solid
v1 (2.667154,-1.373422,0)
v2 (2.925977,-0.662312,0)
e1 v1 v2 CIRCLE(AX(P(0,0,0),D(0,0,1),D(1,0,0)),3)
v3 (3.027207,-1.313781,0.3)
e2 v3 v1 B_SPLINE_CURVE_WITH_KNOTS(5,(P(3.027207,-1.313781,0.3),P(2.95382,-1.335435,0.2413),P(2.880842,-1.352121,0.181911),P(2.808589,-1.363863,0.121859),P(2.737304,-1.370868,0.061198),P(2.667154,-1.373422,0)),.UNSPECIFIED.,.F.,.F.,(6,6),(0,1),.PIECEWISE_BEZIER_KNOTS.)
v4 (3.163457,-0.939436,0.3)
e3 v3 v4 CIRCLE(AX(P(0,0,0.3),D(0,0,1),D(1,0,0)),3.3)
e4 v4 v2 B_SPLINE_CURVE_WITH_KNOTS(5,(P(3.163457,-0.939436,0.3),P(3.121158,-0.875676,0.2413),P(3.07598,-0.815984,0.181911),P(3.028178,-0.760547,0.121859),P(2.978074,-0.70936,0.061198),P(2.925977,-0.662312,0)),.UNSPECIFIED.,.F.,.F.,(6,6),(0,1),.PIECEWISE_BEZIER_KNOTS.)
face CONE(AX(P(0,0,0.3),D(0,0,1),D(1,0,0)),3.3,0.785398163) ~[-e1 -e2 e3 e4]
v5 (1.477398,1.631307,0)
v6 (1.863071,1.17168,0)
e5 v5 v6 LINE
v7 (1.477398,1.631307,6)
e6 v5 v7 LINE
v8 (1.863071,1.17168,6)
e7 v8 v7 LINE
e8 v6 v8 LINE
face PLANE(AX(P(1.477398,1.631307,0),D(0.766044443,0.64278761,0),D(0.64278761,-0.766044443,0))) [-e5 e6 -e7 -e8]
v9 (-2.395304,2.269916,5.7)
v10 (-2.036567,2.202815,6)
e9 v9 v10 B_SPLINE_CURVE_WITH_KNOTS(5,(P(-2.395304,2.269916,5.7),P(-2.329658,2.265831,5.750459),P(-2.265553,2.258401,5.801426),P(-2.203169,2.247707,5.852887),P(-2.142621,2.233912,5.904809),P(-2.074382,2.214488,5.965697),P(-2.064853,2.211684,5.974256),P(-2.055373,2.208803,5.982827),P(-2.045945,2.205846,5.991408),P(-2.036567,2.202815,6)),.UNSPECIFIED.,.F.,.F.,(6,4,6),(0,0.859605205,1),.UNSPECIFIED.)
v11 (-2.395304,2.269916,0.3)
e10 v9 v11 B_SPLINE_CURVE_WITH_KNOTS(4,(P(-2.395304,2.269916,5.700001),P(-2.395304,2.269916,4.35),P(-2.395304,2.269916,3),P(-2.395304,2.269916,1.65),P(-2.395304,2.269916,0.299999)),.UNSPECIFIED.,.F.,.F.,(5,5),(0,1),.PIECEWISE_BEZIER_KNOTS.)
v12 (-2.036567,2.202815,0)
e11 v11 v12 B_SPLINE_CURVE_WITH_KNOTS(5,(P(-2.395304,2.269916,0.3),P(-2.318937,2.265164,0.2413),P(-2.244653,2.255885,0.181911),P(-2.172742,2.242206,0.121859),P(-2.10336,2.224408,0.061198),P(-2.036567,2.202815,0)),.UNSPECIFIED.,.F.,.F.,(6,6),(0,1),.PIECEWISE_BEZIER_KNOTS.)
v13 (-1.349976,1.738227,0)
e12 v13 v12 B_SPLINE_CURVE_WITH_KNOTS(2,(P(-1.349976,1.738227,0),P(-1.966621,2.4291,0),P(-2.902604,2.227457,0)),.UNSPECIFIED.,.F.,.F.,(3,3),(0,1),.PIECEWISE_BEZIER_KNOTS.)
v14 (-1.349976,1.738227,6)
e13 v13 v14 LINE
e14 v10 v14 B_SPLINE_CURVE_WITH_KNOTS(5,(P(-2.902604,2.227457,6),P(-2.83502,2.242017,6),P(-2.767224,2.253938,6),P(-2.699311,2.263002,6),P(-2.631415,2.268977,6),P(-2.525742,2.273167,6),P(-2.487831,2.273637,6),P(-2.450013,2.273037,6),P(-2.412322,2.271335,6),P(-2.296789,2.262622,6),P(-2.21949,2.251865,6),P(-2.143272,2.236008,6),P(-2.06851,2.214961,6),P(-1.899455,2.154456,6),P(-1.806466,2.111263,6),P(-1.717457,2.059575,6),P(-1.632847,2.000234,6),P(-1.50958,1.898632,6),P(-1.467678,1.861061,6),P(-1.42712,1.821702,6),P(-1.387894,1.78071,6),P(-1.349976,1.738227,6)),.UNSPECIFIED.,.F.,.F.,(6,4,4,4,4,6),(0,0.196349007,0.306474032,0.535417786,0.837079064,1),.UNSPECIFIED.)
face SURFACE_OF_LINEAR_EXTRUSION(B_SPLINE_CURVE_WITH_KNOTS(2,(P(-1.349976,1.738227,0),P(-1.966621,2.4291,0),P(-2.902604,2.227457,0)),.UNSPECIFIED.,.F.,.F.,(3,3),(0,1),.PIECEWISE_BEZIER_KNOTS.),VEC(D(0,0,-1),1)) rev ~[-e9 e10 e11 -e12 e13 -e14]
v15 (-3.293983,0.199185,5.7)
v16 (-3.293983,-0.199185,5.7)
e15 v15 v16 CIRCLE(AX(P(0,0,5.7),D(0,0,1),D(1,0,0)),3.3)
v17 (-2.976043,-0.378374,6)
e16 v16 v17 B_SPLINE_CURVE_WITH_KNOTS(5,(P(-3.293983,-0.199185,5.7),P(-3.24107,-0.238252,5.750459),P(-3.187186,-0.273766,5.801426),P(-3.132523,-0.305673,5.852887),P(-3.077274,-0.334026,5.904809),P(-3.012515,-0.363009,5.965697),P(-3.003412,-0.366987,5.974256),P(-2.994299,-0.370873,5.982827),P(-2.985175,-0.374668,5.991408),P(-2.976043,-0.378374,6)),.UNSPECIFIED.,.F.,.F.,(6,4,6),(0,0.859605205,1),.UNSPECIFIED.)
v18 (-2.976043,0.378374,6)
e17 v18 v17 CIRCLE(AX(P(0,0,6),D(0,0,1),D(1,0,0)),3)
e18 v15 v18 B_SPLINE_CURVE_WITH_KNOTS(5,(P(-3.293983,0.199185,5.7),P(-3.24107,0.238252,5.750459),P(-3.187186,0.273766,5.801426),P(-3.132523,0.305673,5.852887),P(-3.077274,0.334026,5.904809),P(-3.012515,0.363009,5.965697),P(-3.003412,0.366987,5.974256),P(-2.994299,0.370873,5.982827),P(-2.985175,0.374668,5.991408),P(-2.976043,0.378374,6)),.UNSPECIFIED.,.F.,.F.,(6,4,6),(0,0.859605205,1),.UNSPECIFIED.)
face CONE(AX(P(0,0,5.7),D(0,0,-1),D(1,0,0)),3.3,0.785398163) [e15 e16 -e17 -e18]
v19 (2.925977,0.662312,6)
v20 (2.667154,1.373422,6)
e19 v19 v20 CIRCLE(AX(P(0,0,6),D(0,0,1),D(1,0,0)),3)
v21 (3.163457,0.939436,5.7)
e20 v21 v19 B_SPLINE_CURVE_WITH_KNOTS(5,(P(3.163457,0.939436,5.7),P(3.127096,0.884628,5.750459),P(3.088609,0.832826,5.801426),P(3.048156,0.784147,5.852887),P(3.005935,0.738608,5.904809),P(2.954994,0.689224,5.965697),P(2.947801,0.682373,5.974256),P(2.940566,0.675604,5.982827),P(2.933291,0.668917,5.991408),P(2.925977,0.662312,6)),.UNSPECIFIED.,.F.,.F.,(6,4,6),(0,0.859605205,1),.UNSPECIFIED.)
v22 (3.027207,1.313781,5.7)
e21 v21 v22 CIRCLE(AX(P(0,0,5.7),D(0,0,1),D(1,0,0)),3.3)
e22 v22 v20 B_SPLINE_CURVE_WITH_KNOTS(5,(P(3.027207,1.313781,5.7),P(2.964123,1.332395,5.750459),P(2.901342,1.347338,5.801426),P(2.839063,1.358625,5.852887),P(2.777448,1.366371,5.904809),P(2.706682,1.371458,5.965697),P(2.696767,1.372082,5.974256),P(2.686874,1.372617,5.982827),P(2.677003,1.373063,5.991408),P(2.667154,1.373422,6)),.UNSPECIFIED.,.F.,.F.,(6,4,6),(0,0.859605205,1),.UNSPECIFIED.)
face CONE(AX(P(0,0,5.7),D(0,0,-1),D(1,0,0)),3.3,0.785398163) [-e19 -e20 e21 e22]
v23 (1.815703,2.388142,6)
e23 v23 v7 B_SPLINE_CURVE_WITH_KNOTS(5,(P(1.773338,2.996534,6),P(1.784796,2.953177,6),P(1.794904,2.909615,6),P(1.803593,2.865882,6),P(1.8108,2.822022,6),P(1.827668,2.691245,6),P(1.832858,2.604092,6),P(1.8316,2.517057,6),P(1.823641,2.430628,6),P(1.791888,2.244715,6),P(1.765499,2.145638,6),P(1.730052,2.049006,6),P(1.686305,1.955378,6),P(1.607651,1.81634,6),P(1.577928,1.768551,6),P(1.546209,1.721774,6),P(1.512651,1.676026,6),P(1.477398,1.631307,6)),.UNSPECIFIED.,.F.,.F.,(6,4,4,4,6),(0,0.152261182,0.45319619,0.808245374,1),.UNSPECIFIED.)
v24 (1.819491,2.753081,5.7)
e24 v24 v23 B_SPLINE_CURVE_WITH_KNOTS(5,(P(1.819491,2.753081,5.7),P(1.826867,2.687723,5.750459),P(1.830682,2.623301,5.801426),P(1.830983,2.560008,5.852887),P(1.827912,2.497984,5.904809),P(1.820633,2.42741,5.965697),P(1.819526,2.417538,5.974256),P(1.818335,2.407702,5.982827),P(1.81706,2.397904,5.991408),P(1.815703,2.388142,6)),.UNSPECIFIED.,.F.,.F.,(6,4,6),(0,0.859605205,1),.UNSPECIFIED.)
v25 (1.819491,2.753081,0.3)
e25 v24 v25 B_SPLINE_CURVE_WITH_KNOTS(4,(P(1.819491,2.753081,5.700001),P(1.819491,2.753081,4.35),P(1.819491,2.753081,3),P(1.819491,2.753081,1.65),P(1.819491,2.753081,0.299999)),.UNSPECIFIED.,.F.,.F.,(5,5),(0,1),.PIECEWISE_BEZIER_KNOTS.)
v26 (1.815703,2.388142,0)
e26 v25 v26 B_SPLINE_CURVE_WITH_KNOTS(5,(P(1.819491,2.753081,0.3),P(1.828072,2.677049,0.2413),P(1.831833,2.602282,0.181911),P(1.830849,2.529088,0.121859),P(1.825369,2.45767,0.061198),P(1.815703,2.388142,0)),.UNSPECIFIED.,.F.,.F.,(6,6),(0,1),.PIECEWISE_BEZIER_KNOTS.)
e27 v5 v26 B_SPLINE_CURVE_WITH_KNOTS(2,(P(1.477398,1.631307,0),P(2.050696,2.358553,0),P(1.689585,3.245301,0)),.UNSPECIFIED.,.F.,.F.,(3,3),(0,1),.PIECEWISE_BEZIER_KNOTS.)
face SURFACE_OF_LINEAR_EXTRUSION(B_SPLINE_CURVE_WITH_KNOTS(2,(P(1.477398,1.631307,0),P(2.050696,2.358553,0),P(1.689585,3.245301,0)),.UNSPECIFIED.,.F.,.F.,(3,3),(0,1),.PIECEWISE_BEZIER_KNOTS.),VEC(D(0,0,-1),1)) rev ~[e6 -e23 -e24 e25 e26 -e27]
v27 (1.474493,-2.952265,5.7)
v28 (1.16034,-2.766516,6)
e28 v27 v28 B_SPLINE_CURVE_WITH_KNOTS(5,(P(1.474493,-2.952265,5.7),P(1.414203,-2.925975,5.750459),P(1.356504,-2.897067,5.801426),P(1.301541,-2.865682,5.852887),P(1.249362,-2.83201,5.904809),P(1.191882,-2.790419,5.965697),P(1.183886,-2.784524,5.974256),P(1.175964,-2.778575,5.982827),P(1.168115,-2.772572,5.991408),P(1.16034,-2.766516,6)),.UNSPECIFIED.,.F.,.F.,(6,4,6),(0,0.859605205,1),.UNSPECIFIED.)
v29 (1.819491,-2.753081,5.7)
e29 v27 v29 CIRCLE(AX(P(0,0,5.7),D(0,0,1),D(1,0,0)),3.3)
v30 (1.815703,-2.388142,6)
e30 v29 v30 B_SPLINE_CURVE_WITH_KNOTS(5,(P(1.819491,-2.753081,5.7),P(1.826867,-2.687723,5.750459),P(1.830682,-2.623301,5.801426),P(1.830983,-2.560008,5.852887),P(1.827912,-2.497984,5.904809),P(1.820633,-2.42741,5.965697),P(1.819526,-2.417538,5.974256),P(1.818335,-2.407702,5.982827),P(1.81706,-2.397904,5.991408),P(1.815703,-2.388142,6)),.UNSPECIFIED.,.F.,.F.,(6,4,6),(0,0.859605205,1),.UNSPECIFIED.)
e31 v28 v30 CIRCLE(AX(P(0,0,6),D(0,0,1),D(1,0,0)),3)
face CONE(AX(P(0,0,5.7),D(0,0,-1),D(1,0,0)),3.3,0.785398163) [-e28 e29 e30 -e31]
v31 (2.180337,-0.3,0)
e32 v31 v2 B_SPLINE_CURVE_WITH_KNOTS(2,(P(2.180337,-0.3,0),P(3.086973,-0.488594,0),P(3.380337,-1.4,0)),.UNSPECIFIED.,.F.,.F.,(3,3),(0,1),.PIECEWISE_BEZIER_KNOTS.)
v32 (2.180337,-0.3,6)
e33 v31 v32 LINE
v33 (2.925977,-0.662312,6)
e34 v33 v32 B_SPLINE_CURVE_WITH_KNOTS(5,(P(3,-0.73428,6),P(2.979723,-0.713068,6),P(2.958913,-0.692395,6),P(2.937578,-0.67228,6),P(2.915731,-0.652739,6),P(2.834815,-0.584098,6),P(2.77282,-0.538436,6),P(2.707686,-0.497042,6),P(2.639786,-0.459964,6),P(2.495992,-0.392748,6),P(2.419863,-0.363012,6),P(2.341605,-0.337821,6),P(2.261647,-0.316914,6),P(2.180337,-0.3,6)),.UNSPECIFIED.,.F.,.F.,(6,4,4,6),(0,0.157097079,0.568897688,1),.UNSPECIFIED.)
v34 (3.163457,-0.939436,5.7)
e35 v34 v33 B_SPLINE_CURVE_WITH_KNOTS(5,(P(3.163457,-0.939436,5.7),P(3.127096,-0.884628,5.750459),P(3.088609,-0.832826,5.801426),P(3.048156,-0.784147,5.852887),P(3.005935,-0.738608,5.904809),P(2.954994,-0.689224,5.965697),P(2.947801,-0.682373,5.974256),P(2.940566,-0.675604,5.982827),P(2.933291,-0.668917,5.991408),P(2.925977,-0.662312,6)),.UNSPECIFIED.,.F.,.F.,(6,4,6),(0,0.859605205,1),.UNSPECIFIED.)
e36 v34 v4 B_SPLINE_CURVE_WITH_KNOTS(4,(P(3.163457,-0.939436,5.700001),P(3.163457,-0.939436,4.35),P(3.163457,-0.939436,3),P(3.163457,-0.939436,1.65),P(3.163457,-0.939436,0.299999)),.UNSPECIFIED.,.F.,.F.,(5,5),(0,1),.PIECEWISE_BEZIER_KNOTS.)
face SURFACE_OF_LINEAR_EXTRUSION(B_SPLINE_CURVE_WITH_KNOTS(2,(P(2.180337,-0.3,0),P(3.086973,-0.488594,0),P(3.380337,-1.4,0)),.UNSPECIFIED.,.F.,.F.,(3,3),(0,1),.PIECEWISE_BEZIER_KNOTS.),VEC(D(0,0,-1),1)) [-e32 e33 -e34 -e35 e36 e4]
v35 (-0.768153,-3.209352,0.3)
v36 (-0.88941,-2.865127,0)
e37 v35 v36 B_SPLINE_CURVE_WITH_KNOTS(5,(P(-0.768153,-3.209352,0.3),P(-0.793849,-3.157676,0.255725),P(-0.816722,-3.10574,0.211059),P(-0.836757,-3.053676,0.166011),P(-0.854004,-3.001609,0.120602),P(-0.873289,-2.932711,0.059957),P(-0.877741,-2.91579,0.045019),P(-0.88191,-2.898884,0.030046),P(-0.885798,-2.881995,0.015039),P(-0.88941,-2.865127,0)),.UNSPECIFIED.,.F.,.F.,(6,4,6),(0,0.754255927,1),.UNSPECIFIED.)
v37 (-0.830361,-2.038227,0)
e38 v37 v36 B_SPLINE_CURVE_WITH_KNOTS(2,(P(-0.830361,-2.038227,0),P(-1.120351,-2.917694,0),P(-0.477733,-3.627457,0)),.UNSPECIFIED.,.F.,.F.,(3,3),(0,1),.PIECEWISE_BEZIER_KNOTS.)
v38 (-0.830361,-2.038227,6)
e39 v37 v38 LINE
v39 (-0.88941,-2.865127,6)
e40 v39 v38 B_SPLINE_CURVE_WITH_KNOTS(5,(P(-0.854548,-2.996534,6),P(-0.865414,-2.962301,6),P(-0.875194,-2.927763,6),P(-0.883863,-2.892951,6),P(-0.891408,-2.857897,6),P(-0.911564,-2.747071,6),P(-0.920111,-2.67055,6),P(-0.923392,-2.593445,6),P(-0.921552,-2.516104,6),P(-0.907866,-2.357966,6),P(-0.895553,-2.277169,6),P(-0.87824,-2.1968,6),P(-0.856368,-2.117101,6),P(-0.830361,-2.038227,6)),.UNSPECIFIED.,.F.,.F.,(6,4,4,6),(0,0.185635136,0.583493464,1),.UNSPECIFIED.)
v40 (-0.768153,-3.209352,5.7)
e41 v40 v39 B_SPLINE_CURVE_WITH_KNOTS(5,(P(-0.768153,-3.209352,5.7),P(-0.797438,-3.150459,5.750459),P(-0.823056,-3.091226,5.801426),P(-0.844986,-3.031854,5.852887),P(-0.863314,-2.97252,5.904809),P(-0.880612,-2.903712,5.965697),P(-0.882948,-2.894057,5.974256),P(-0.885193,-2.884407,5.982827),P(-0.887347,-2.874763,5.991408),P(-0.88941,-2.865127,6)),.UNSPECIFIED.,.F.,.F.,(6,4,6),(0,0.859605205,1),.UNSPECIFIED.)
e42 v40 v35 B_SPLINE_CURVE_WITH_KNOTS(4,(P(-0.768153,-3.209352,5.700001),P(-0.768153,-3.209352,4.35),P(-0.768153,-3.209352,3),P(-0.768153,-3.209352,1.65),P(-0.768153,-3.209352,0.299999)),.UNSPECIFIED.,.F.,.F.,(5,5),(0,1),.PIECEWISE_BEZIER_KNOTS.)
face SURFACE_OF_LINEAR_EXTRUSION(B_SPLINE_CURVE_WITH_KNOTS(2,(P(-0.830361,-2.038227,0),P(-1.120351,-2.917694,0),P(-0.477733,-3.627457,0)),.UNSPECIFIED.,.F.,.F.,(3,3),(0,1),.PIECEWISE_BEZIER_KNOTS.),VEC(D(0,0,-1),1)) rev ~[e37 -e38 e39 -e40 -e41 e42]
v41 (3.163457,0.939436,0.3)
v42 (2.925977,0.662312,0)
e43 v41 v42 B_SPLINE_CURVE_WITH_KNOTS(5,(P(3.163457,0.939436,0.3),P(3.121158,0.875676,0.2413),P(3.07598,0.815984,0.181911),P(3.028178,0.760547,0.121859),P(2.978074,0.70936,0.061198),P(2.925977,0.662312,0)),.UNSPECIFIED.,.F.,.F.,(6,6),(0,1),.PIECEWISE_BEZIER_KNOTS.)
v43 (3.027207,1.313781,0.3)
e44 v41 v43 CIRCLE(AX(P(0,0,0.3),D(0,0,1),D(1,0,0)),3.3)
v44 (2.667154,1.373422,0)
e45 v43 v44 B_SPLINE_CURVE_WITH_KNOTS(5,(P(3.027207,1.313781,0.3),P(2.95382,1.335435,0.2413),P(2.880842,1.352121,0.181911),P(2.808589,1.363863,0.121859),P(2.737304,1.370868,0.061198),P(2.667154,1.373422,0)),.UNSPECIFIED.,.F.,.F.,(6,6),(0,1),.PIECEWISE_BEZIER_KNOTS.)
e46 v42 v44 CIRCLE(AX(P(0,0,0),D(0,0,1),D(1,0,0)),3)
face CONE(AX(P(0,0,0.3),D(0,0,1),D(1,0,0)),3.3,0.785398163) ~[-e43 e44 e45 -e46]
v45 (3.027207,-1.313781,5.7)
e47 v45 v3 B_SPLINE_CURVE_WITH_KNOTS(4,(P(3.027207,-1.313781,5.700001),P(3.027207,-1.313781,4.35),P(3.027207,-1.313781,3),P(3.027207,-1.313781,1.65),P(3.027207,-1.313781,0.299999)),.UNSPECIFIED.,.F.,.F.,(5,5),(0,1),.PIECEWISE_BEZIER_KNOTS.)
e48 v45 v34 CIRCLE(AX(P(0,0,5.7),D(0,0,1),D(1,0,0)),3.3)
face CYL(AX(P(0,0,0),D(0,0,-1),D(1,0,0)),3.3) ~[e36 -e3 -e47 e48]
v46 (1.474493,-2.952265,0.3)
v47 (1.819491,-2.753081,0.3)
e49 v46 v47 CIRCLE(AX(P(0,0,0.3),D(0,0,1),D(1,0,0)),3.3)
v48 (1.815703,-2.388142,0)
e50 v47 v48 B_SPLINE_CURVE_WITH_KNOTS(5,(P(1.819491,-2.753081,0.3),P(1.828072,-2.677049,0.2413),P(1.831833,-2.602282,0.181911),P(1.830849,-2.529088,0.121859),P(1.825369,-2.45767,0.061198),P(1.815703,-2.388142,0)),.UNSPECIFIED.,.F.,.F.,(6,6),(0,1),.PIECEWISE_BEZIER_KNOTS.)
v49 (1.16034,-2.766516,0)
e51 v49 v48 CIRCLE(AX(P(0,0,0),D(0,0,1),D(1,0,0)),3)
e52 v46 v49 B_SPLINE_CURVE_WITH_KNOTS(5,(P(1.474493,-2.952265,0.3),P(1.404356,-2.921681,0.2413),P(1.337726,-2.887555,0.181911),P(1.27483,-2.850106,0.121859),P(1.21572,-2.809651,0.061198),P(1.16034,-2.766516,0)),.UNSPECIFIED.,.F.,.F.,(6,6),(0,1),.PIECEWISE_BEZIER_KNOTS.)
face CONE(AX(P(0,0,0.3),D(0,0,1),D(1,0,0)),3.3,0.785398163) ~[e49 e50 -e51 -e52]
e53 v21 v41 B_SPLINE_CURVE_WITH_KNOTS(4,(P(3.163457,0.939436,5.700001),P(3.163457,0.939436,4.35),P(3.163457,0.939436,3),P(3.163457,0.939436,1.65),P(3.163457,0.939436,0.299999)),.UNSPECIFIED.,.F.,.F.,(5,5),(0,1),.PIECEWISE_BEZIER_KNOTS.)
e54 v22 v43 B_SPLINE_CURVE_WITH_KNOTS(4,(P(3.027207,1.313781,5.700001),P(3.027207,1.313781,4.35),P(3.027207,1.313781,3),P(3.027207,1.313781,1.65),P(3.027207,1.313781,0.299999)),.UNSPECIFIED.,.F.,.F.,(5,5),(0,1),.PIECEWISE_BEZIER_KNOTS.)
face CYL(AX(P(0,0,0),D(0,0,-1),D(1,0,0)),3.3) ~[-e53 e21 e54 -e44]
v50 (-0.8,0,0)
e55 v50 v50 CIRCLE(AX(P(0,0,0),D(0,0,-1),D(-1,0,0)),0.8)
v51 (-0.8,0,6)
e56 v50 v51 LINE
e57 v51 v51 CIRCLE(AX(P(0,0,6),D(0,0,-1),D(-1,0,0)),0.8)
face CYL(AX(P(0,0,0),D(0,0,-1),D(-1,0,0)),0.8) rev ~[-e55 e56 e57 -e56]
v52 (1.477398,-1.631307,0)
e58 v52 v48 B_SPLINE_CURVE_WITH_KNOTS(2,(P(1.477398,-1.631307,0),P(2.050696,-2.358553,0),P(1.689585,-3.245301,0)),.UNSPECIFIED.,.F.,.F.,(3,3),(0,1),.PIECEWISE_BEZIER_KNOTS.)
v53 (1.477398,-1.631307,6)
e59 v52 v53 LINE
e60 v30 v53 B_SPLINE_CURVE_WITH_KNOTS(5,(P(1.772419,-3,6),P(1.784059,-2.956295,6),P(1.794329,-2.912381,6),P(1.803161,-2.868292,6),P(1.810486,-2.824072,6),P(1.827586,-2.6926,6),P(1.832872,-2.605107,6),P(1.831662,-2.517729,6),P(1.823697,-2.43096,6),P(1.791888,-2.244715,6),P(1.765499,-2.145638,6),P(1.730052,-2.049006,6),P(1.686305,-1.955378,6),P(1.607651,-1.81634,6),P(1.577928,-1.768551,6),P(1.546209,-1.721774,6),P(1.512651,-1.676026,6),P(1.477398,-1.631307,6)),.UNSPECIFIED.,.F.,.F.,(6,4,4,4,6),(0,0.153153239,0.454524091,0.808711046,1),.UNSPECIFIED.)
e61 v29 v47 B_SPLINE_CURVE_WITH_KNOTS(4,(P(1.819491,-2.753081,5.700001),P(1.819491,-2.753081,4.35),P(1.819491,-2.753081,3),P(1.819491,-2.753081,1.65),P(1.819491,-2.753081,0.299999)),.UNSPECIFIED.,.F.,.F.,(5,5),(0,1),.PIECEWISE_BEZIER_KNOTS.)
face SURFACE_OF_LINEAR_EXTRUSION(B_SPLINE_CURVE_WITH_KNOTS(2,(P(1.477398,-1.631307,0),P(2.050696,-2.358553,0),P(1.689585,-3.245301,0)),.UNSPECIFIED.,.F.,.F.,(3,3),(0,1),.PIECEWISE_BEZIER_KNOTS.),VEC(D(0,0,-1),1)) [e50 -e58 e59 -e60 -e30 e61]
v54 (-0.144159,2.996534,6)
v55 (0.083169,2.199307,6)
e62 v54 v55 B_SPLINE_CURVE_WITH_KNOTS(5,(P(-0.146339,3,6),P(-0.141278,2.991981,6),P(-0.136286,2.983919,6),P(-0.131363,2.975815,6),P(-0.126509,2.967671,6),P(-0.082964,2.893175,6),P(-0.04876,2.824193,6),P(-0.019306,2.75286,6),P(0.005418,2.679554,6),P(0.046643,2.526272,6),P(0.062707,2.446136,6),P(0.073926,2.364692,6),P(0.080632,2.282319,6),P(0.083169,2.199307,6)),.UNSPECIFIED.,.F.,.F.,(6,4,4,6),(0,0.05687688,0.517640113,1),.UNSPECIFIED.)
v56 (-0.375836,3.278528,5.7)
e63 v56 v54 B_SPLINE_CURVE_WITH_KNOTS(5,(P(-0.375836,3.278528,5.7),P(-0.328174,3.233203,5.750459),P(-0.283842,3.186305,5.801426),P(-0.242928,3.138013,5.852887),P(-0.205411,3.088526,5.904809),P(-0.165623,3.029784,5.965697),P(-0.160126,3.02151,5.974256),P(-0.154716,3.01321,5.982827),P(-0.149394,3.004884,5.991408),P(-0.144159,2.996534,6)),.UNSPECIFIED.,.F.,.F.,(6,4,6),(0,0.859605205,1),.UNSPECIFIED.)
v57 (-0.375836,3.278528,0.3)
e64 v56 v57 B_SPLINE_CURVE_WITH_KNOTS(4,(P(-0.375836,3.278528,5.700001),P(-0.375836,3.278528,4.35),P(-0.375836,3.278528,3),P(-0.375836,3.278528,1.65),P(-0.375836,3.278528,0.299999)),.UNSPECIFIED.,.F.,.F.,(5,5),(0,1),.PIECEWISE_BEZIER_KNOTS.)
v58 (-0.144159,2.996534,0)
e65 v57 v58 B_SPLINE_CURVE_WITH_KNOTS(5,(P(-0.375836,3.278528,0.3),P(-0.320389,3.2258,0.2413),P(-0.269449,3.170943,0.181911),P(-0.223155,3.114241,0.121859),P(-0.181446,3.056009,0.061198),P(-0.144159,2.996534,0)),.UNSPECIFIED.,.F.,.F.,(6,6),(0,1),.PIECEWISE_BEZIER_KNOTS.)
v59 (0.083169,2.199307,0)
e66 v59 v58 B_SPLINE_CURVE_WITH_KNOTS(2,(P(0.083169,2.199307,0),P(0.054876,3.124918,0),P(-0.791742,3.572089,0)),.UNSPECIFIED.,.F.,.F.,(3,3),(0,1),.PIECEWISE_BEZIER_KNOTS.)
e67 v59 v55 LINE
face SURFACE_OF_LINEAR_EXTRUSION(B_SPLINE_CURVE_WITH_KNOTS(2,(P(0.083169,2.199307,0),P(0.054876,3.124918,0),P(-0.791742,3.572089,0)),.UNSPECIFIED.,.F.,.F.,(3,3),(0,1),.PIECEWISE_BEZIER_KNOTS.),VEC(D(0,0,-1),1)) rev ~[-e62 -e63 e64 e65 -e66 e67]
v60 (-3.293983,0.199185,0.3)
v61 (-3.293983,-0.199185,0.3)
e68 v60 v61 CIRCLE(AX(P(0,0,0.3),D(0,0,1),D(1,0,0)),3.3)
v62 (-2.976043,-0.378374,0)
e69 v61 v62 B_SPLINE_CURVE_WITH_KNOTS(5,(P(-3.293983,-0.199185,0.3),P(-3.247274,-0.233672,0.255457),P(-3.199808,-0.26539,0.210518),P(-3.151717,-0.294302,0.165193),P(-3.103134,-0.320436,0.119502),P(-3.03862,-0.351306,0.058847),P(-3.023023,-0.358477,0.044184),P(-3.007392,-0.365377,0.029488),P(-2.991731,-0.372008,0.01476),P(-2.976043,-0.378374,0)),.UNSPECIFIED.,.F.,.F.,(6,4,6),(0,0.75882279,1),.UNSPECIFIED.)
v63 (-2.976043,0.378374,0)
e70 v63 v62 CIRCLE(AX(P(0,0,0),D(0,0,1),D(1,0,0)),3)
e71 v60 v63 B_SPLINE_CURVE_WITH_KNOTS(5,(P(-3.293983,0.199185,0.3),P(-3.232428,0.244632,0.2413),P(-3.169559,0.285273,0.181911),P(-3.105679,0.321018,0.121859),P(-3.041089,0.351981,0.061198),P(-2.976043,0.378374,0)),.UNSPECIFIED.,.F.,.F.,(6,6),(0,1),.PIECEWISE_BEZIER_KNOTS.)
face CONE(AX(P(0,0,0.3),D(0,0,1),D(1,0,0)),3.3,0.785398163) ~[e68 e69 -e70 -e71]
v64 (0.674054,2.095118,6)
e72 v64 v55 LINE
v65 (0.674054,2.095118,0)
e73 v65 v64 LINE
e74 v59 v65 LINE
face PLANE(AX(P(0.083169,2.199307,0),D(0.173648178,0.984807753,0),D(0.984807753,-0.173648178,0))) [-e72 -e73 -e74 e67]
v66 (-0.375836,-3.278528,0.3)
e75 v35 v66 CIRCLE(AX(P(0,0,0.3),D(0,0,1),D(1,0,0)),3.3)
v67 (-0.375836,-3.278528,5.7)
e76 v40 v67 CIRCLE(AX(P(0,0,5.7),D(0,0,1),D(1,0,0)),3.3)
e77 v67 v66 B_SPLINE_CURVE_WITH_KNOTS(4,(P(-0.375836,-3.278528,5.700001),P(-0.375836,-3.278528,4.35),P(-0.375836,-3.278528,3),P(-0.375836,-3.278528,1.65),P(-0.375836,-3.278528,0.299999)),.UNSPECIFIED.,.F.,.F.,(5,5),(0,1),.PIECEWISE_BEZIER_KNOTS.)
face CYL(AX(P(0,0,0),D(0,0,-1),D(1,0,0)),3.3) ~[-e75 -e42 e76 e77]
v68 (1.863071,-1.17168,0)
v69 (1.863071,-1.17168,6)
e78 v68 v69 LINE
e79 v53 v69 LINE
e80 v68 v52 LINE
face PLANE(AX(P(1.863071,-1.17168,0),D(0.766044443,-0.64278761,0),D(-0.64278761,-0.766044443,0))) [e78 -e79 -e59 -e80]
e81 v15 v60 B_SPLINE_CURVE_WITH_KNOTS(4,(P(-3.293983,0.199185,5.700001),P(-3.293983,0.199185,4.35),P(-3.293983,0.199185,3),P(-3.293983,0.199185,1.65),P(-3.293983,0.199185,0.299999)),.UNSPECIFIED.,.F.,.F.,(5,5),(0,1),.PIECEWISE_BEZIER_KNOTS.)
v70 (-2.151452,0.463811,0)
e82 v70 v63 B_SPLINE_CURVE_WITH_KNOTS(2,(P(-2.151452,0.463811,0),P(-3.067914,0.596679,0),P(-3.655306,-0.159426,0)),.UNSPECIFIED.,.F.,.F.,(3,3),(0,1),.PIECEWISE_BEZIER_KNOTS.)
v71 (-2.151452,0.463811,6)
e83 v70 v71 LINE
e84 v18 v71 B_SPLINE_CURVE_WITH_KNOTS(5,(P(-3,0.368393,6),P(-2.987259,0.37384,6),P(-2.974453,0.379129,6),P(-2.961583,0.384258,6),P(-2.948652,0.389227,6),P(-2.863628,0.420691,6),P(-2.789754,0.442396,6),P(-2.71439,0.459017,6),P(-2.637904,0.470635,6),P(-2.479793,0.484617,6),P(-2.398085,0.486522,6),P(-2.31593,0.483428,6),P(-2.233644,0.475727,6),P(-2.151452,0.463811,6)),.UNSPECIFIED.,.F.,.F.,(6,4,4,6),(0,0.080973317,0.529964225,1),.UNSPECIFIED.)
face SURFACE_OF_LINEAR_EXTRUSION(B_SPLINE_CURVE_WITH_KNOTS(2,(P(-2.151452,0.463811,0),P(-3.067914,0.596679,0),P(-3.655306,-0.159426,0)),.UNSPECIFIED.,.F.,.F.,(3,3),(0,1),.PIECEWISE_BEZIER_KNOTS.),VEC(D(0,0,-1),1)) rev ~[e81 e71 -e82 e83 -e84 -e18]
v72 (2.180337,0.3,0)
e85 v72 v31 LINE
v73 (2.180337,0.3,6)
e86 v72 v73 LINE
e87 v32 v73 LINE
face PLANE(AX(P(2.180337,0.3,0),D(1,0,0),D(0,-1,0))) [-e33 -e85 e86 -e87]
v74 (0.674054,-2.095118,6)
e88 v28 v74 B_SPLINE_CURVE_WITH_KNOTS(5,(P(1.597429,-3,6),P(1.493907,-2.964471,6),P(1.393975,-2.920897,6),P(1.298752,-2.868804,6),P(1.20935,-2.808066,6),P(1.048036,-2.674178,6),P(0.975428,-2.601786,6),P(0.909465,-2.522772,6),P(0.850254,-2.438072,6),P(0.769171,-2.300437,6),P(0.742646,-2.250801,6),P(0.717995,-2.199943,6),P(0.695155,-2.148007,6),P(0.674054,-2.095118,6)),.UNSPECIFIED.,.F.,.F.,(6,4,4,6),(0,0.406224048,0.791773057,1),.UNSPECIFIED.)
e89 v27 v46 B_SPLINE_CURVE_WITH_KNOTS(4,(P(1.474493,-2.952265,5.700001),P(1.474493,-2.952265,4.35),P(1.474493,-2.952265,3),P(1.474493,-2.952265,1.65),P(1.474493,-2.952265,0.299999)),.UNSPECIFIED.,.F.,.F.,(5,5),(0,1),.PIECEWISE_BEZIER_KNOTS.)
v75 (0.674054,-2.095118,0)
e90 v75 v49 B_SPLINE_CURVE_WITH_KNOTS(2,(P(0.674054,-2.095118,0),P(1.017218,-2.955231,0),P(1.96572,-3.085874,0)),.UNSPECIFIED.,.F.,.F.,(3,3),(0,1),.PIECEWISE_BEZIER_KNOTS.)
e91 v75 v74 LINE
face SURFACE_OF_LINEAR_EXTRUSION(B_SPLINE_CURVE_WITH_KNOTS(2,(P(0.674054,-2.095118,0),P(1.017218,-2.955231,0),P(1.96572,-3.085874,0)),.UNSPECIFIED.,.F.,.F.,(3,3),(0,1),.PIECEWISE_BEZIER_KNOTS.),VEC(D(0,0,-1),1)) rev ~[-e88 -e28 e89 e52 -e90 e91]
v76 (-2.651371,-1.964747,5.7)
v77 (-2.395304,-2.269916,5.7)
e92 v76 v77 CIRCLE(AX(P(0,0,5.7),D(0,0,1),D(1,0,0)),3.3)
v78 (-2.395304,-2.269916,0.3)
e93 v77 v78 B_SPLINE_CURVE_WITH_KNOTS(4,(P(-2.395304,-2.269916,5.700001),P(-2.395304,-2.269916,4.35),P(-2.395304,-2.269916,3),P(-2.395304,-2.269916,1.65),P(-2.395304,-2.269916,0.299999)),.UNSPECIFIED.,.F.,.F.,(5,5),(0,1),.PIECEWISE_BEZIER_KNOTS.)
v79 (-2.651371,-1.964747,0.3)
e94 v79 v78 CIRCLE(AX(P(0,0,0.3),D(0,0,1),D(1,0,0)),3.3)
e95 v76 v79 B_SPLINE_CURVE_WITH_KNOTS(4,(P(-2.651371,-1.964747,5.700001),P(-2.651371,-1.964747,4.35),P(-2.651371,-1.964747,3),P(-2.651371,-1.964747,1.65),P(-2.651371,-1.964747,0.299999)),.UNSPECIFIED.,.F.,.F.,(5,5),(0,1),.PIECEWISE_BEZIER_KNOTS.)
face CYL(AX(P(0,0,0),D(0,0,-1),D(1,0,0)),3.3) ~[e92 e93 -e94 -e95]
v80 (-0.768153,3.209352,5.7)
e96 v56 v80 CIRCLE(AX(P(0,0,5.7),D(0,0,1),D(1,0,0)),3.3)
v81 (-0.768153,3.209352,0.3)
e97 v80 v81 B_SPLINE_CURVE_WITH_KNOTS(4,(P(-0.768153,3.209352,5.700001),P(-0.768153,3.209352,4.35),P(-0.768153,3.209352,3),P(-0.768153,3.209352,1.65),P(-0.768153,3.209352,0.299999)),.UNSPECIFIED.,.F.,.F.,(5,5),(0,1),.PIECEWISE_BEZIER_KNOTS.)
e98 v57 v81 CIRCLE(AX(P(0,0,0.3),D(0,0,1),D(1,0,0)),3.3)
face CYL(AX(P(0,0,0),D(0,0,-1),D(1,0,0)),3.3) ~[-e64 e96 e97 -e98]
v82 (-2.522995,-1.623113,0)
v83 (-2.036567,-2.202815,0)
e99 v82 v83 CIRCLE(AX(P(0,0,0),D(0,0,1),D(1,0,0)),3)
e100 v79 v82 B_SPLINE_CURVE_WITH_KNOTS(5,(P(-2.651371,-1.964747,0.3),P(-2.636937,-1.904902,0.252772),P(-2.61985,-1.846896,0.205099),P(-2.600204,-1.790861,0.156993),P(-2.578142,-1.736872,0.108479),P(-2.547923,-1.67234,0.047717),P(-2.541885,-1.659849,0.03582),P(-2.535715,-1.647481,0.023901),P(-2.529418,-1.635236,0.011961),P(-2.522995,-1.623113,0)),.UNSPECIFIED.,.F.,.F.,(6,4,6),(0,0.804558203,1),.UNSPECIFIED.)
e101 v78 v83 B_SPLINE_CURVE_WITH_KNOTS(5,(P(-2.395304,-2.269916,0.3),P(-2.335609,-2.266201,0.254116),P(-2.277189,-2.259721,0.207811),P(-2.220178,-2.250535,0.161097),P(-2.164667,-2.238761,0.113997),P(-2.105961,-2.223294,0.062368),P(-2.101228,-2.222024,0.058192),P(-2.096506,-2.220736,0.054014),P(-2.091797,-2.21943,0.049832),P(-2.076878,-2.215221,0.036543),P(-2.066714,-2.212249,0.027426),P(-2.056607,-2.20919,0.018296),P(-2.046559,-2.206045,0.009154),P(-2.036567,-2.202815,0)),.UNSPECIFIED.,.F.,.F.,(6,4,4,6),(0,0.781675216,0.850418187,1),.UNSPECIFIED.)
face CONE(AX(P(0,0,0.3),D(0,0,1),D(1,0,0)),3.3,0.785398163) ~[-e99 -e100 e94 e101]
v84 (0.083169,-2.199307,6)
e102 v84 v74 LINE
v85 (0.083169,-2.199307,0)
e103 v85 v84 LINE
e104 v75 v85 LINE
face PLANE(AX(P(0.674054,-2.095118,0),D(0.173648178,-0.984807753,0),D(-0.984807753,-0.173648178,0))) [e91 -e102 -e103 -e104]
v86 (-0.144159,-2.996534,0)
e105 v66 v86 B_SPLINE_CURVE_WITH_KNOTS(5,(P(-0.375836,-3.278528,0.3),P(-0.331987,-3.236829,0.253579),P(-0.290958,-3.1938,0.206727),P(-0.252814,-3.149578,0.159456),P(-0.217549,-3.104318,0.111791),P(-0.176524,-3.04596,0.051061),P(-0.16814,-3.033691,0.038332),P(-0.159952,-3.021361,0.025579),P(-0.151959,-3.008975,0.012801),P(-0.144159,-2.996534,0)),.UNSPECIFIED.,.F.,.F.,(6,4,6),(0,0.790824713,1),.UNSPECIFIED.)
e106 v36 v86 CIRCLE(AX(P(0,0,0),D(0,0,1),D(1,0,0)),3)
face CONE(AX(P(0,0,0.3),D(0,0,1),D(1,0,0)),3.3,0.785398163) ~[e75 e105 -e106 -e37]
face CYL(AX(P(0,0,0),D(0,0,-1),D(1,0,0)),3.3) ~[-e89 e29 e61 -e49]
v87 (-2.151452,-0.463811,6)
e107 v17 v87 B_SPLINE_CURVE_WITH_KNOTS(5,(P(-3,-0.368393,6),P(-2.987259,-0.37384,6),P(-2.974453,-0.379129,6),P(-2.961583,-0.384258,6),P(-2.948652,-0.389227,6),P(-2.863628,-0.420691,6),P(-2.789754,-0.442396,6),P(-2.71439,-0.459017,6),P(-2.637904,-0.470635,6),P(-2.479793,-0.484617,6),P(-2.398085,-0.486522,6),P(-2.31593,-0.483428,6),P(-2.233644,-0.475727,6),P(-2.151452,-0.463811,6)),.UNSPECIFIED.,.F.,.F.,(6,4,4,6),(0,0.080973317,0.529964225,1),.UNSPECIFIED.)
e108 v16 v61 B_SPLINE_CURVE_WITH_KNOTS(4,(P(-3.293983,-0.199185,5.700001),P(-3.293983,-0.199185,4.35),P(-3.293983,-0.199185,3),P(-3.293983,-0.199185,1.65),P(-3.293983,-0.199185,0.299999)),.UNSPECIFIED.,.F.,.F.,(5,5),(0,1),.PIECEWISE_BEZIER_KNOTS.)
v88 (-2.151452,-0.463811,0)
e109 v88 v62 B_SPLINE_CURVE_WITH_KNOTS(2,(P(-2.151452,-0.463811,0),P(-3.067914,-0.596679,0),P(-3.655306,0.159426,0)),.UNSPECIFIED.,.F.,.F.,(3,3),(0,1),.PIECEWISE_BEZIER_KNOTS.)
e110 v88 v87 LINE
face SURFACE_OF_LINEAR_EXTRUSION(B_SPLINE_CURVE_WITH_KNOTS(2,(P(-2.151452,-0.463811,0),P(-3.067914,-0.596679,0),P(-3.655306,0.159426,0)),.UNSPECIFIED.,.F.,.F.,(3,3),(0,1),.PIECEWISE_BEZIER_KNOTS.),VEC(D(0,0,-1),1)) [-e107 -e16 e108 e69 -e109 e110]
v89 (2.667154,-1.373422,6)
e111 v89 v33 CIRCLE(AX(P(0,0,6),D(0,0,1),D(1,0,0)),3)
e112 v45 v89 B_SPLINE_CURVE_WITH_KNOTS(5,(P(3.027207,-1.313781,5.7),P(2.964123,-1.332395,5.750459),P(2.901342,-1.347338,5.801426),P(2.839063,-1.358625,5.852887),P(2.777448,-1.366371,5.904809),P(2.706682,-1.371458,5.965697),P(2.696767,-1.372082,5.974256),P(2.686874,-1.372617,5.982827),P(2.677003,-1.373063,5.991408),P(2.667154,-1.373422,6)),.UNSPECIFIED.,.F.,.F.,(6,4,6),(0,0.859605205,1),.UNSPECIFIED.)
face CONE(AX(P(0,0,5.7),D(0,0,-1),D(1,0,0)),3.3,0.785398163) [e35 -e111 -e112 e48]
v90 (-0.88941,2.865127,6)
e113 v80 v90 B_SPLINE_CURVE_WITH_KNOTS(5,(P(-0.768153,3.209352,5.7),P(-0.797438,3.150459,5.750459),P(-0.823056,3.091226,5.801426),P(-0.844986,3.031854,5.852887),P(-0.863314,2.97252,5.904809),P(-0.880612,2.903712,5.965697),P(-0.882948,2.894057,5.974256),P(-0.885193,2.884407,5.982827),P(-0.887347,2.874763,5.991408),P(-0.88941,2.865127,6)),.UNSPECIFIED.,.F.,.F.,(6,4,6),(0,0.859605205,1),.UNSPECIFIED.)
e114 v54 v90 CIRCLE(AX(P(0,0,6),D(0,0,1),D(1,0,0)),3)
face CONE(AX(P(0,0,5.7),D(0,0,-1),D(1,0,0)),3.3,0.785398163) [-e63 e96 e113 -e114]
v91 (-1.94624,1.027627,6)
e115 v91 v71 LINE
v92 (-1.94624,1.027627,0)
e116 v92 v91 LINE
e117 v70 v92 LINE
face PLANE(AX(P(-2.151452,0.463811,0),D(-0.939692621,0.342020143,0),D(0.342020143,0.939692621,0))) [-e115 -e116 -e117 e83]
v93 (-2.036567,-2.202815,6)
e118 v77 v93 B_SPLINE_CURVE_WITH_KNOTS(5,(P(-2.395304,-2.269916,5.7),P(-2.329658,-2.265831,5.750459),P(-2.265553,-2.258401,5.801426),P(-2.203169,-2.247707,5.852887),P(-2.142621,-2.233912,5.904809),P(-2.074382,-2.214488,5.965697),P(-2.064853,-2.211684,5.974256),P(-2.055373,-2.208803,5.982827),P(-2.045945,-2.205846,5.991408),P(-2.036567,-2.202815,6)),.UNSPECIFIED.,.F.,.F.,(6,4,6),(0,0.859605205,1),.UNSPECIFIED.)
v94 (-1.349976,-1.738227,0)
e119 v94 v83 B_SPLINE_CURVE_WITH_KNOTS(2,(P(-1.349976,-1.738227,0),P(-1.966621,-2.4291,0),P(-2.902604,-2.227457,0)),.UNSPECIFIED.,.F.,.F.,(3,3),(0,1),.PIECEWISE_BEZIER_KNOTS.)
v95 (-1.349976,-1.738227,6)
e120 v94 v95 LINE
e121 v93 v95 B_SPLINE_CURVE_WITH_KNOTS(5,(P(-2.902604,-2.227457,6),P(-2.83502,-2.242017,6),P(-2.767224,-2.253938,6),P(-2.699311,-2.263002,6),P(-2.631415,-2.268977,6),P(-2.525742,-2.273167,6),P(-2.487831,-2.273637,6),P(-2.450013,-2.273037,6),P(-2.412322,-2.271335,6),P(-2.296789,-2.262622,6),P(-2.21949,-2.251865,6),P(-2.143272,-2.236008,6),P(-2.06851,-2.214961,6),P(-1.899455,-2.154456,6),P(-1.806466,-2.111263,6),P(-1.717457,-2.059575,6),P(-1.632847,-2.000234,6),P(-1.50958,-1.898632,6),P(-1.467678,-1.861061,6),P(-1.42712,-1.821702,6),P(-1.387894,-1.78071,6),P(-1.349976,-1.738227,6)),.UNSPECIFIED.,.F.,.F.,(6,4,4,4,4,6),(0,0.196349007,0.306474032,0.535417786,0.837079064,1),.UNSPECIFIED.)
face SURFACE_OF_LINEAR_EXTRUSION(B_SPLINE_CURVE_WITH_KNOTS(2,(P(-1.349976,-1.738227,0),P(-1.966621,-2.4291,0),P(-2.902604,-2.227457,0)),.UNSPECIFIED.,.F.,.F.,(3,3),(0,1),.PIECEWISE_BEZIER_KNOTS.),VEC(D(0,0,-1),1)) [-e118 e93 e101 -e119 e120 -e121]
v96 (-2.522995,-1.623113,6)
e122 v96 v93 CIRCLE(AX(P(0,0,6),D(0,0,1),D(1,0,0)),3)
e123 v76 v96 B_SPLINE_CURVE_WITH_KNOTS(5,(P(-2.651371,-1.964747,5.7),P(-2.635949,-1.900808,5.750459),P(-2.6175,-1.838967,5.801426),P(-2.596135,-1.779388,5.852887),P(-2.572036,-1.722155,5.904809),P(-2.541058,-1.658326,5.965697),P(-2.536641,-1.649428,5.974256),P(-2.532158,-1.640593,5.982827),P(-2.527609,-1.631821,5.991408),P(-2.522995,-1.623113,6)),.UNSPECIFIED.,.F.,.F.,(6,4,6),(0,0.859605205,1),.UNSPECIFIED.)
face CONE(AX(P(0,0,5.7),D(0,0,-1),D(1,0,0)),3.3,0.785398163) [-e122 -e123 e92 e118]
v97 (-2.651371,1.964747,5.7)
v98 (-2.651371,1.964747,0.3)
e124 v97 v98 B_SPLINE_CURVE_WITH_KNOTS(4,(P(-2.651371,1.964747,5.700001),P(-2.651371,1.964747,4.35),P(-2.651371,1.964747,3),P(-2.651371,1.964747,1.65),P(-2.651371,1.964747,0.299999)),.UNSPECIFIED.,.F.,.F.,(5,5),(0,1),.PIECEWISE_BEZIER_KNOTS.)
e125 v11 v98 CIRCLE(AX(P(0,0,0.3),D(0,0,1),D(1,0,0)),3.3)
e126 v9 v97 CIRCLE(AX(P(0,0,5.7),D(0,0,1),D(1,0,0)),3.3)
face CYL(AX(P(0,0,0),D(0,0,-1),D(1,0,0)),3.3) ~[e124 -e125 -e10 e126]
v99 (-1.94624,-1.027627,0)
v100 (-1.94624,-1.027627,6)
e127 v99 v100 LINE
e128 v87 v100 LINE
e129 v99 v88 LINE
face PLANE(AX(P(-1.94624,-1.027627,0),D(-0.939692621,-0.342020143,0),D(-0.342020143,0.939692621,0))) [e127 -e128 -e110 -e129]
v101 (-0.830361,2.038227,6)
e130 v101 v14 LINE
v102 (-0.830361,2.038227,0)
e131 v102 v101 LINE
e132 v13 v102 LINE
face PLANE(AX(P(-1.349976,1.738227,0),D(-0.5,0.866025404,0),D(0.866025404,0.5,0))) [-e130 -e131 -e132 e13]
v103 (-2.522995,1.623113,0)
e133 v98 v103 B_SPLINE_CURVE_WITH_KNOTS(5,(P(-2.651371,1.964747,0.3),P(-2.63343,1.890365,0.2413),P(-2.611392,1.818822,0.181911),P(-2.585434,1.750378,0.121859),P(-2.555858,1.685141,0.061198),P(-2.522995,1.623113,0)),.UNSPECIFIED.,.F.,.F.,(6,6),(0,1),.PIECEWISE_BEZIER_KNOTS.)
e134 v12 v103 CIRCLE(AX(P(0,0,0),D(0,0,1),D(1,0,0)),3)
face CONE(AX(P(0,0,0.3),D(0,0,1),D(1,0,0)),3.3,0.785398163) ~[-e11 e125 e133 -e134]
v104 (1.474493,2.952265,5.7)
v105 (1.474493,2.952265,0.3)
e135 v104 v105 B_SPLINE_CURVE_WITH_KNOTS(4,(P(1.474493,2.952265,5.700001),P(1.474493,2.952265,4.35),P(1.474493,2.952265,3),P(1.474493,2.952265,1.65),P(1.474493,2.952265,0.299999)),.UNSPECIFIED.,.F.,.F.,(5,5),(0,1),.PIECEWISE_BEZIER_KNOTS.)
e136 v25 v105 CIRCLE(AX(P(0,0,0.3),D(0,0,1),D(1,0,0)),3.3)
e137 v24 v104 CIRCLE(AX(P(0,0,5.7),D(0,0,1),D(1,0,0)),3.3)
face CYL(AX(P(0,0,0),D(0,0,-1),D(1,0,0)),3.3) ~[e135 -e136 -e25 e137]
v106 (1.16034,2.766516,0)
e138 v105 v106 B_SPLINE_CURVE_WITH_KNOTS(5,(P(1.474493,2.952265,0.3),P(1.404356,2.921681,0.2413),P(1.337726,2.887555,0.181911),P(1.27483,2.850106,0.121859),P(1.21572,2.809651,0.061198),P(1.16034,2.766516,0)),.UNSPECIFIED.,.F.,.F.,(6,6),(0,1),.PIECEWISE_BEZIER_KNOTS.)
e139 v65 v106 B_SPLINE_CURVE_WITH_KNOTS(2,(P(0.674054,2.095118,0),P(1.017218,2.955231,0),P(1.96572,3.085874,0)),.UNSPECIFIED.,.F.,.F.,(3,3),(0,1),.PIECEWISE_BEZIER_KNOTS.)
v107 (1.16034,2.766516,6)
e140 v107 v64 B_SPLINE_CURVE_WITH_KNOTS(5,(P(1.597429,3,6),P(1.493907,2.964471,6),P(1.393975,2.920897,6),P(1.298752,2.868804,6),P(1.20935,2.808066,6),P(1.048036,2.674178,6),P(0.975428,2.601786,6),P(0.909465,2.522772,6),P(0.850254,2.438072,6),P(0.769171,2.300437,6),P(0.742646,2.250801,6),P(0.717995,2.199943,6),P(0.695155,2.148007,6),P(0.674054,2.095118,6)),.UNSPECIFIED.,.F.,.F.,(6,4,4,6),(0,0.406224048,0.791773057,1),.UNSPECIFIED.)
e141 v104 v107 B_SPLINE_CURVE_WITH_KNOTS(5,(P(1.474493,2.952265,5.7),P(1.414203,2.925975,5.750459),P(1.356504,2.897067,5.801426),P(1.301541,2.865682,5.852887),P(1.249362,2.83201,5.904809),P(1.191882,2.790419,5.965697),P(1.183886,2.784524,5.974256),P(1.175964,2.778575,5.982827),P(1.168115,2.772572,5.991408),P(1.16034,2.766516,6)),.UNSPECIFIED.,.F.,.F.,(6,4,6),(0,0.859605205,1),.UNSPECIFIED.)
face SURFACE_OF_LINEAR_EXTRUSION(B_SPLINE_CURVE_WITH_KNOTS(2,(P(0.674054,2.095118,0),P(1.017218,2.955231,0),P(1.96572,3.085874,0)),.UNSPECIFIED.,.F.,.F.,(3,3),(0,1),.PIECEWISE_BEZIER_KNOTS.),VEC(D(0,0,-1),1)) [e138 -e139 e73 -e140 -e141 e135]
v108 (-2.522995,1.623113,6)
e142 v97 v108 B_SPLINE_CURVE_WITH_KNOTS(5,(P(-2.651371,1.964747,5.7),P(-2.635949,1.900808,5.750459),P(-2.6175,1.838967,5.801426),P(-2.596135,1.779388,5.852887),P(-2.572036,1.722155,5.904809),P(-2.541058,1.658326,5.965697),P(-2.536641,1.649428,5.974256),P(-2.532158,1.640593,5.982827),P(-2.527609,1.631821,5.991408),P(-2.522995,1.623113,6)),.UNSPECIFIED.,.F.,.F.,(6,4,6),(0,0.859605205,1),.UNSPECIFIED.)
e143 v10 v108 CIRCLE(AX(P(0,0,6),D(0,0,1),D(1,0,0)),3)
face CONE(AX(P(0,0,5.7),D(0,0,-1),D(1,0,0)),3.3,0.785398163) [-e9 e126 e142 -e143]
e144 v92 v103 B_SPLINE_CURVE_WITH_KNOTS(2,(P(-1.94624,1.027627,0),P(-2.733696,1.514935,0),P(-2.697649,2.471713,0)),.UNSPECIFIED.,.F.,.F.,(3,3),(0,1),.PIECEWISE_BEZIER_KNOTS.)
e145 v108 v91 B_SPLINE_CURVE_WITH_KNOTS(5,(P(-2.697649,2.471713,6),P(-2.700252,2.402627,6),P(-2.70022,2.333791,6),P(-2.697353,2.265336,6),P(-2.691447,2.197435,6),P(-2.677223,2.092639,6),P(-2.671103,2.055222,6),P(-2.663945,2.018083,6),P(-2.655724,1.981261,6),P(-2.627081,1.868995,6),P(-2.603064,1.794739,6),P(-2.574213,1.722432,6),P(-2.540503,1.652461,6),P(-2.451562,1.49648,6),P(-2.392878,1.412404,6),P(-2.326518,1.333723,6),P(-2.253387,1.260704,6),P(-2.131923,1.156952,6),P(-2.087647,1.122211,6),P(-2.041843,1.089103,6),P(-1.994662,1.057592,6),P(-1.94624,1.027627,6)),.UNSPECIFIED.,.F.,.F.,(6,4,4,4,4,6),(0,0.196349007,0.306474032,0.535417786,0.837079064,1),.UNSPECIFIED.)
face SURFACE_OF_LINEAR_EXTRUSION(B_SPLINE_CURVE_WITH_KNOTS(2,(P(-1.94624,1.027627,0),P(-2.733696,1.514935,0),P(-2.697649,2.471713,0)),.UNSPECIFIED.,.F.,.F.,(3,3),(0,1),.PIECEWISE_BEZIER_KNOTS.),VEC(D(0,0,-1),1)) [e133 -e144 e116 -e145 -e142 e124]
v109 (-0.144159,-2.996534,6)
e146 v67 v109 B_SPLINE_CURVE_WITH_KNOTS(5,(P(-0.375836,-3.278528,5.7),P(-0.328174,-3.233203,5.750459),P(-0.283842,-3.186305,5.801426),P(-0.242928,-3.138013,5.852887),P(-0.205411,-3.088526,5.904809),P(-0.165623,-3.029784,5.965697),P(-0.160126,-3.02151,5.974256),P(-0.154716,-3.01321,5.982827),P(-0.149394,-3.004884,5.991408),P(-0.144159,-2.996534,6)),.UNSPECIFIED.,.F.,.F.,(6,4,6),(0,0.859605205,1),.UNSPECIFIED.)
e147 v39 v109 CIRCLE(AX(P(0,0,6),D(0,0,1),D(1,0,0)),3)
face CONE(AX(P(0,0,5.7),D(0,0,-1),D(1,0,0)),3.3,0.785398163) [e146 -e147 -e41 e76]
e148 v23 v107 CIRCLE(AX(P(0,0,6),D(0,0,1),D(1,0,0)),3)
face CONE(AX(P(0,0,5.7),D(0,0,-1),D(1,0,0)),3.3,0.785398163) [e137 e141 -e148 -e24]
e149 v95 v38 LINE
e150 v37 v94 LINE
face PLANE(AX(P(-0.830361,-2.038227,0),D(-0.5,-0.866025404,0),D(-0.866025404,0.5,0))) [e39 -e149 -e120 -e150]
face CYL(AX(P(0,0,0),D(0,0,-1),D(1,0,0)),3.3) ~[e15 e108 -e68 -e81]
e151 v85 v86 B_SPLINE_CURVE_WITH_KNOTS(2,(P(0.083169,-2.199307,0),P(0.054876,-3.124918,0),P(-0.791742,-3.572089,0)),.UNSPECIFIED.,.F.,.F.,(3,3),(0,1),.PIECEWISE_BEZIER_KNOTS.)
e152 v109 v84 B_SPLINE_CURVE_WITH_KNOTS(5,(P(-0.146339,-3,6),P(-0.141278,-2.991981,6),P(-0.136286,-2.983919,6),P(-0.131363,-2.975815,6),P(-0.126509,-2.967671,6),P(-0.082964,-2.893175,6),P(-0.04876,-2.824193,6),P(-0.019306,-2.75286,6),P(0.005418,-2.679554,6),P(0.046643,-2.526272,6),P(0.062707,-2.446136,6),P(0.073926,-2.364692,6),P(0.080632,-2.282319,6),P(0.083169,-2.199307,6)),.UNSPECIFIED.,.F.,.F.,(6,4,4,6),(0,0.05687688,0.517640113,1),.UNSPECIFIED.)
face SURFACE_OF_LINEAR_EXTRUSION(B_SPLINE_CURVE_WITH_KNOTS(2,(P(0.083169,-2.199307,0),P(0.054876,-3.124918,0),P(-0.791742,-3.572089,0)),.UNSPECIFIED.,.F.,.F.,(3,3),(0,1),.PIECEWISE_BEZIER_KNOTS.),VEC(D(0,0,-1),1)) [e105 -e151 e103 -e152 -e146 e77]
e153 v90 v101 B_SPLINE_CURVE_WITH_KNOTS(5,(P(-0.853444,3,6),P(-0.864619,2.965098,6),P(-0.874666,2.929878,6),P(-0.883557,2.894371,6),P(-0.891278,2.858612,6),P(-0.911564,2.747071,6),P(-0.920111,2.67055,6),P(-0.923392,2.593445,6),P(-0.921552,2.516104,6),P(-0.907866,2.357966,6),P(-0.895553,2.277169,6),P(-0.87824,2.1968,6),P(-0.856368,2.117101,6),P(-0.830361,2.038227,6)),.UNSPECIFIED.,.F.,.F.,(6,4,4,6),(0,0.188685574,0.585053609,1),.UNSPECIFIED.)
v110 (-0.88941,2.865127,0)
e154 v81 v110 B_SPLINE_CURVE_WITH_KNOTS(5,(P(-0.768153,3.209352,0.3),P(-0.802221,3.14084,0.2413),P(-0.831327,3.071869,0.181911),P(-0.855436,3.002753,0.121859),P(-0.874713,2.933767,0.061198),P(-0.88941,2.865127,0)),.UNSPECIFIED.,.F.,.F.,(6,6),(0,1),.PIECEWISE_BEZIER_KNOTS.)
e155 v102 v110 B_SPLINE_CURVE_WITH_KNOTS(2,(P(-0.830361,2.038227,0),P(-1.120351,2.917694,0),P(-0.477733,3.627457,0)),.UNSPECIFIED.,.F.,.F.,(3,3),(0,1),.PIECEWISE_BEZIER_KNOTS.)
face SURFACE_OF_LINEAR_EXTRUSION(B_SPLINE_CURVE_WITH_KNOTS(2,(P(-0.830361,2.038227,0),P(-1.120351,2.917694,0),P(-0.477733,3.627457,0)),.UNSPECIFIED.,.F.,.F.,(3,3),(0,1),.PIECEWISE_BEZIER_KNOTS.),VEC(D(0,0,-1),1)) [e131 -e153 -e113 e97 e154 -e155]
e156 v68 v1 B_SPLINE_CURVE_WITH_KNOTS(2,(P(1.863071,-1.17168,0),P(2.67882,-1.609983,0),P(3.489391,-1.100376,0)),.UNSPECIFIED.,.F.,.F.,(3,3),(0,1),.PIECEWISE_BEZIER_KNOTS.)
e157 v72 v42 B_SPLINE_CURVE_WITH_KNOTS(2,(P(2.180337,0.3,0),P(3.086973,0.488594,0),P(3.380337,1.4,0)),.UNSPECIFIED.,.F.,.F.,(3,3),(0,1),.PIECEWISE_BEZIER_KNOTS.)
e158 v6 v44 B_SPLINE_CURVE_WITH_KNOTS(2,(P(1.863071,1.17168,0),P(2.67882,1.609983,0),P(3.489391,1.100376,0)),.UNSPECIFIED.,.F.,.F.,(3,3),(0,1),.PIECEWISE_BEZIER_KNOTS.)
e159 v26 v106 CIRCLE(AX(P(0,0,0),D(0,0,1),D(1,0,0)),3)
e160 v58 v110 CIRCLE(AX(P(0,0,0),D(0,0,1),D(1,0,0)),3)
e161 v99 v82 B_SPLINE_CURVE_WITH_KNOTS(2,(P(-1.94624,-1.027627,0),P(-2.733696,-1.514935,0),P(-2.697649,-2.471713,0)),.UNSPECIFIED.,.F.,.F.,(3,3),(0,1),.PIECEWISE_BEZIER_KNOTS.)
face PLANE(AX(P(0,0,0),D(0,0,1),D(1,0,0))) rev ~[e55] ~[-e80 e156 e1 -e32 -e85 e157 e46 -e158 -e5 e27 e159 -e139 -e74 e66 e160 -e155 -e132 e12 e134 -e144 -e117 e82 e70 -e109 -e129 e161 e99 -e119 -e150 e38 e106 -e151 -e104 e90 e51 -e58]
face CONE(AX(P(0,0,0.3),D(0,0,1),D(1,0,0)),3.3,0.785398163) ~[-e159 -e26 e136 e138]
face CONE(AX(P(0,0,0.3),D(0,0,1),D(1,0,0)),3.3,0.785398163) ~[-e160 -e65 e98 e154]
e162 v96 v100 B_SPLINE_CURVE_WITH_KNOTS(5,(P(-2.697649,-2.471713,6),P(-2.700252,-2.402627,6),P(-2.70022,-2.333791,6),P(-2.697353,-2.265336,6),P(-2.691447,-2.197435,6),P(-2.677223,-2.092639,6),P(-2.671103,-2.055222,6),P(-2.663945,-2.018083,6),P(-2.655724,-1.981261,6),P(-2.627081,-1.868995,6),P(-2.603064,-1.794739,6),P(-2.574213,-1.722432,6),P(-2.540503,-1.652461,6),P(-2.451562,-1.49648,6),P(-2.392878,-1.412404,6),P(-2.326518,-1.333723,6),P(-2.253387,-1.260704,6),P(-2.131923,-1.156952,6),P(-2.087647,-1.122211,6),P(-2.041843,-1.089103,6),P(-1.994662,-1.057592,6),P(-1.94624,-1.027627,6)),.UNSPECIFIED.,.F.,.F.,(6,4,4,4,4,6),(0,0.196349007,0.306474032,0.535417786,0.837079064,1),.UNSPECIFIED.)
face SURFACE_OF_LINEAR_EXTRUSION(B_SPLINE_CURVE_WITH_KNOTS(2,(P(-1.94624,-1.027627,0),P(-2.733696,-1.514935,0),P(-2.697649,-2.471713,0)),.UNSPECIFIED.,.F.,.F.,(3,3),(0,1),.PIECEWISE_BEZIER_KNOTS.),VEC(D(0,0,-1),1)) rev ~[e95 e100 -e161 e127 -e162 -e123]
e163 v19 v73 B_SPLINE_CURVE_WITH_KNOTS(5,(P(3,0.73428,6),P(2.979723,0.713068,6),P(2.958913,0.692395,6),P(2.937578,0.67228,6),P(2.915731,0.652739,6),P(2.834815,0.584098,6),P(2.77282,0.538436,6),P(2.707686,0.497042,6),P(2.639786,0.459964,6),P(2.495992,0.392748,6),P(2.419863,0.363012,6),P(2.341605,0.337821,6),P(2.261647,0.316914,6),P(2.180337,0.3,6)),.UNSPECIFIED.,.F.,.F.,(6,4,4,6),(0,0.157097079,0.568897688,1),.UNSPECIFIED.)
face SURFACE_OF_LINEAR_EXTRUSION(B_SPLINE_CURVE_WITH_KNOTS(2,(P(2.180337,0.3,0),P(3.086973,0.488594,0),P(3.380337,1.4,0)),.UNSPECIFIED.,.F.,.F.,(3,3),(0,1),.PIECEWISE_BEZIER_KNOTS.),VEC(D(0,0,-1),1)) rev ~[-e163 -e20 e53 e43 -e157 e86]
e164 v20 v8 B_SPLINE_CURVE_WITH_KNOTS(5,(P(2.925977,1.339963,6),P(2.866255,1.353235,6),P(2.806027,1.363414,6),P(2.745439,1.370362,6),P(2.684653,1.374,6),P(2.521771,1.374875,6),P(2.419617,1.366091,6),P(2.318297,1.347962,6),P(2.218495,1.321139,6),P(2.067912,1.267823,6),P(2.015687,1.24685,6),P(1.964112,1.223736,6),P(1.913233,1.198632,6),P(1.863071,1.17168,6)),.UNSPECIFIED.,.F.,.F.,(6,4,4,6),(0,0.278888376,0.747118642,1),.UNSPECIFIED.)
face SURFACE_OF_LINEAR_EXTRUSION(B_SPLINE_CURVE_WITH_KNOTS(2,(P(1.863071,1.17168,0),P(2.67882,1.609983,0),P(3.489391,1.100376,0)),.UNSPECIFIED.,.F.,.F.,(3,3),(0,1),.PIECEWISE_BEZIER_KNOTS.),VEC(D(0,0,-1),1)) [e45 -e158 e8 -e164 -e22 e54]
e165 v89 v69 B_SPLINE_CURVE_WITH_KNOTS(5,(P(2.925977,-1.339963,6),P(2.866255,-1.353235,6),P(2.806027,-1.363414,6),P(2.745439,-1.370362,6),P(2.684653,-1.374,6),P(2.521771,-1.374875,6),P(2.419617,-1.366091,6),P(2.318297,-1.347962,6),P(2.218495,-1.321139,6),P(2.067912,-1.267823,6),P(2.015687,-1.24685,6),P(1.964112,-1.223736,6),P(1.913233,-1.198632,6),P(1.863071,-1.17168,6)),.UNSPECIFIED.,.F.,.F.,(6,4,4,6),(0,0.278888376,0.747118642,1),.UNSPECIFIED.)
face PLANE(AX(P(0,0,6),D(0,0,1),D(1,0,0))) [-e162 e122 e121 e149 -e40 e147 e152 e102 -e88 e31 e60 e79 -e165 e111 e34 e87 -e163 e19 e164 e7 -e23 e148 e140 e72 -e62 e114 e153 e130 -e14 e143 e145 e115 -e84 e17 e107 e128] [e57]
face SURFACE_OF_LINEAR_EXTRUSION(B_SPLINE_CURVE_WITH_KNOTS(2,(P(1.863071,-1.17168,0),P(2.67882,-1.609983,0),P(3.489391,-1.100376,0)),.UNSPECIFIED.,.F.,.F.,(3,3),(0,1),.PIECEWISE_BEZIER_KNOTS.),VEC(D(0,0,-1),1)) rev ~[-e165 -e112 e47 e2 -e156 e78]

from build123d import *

# Parameters (mm, degrees)
SKETCH_1_R               = 3.3
EXTRUDE_1_DEPTH          = 6
CHAMFER_1_SIZE           = 0.3
CUT_EXTRUDE_1_DEPTH      = 8.601315676
PATTERN_CIRCULAR_1_COUNT = 9
SKETCH_3_R               = 0.8
CUT_EXTRUDE_2_DEPTH      = 8.592018845


with BuildPart() as part:
    # 草图1 → 凸台-拉伸1 (new body)
    with BuildSketch(Plane.XY):
        Circle(SKETCH_1_R)
    extrude(amount=EXTRUDE_1_DEPTH)

    # 倒角1
    chamfer_1_edges = [part.edges().sort_by_distance(p)[0] for p in [
        (-3.3, 0, 6),
        (-3.3, 0, 0),
    ]]
    chamfer(chamfer_1_edges, length=CHAMFER_1_SIZE)

    # 草图2 → 切除-拉伸1 (cut, through all)
    with BuildSketch(Plane(origin=(0, 0, 0), x_dir=(-1, 0, 0), z_dir=(0, 0, -1))):
        with BuildLine():
            Line((-2.18033666, 0.3), (-2.18033666, -0.3))
            add(Edge.make_bspline(
                [(-2.18033666, -0.3), (-3.086972582, -0.488594071), (-3.38033666, -1.4)],
                knots=[0, 0, 0, 1, 1, 1], degree=2))
            Line((-3.38033666, -1.4), (-3.38033666, 1.4))
            add(Edge.make_bspline(
                [(-2.18033666, 0.3), (-3.086972582, 0.488594071), (-3.38033666, 1.4)],
                knots=[0, 0, 0, 1, 1, 1], degree=2))
        make_face()
    cut_extrude_1 = extrude(amount=-CUT_EXTRUDE_1_DEPTH, mode=Mode.SUBTRACT)

    # 阵列(圆周)1: 切除-拉伸1 ×9 about axis
    pattern_circular_1_axis = Axis((0, 0, 0), (0, 0, -1))
    for i in range(1, PATTERN_CIRCULAR_1_COUNT):
        add(cut_extrude_1.rotate(pattern_circular_1_axis, i * 360 / PATTERN_CIRCULAR_1_COUNT), mode=Mode.SUBTRACT)

    # 草图3 → 切除-拉伸2 (cut, through all)
    with BuildSketch(Plane(origin=(0, 0, 0), x_dir=(-1, 0, 0), z_dir=(0, 0, -1))):
        Circle(SKETCH_3_R)
    extrude(amount=-CUT_EXTRUDE_2_DEPTH, mode=Mode.SUBTRACT)


solid = part.part
